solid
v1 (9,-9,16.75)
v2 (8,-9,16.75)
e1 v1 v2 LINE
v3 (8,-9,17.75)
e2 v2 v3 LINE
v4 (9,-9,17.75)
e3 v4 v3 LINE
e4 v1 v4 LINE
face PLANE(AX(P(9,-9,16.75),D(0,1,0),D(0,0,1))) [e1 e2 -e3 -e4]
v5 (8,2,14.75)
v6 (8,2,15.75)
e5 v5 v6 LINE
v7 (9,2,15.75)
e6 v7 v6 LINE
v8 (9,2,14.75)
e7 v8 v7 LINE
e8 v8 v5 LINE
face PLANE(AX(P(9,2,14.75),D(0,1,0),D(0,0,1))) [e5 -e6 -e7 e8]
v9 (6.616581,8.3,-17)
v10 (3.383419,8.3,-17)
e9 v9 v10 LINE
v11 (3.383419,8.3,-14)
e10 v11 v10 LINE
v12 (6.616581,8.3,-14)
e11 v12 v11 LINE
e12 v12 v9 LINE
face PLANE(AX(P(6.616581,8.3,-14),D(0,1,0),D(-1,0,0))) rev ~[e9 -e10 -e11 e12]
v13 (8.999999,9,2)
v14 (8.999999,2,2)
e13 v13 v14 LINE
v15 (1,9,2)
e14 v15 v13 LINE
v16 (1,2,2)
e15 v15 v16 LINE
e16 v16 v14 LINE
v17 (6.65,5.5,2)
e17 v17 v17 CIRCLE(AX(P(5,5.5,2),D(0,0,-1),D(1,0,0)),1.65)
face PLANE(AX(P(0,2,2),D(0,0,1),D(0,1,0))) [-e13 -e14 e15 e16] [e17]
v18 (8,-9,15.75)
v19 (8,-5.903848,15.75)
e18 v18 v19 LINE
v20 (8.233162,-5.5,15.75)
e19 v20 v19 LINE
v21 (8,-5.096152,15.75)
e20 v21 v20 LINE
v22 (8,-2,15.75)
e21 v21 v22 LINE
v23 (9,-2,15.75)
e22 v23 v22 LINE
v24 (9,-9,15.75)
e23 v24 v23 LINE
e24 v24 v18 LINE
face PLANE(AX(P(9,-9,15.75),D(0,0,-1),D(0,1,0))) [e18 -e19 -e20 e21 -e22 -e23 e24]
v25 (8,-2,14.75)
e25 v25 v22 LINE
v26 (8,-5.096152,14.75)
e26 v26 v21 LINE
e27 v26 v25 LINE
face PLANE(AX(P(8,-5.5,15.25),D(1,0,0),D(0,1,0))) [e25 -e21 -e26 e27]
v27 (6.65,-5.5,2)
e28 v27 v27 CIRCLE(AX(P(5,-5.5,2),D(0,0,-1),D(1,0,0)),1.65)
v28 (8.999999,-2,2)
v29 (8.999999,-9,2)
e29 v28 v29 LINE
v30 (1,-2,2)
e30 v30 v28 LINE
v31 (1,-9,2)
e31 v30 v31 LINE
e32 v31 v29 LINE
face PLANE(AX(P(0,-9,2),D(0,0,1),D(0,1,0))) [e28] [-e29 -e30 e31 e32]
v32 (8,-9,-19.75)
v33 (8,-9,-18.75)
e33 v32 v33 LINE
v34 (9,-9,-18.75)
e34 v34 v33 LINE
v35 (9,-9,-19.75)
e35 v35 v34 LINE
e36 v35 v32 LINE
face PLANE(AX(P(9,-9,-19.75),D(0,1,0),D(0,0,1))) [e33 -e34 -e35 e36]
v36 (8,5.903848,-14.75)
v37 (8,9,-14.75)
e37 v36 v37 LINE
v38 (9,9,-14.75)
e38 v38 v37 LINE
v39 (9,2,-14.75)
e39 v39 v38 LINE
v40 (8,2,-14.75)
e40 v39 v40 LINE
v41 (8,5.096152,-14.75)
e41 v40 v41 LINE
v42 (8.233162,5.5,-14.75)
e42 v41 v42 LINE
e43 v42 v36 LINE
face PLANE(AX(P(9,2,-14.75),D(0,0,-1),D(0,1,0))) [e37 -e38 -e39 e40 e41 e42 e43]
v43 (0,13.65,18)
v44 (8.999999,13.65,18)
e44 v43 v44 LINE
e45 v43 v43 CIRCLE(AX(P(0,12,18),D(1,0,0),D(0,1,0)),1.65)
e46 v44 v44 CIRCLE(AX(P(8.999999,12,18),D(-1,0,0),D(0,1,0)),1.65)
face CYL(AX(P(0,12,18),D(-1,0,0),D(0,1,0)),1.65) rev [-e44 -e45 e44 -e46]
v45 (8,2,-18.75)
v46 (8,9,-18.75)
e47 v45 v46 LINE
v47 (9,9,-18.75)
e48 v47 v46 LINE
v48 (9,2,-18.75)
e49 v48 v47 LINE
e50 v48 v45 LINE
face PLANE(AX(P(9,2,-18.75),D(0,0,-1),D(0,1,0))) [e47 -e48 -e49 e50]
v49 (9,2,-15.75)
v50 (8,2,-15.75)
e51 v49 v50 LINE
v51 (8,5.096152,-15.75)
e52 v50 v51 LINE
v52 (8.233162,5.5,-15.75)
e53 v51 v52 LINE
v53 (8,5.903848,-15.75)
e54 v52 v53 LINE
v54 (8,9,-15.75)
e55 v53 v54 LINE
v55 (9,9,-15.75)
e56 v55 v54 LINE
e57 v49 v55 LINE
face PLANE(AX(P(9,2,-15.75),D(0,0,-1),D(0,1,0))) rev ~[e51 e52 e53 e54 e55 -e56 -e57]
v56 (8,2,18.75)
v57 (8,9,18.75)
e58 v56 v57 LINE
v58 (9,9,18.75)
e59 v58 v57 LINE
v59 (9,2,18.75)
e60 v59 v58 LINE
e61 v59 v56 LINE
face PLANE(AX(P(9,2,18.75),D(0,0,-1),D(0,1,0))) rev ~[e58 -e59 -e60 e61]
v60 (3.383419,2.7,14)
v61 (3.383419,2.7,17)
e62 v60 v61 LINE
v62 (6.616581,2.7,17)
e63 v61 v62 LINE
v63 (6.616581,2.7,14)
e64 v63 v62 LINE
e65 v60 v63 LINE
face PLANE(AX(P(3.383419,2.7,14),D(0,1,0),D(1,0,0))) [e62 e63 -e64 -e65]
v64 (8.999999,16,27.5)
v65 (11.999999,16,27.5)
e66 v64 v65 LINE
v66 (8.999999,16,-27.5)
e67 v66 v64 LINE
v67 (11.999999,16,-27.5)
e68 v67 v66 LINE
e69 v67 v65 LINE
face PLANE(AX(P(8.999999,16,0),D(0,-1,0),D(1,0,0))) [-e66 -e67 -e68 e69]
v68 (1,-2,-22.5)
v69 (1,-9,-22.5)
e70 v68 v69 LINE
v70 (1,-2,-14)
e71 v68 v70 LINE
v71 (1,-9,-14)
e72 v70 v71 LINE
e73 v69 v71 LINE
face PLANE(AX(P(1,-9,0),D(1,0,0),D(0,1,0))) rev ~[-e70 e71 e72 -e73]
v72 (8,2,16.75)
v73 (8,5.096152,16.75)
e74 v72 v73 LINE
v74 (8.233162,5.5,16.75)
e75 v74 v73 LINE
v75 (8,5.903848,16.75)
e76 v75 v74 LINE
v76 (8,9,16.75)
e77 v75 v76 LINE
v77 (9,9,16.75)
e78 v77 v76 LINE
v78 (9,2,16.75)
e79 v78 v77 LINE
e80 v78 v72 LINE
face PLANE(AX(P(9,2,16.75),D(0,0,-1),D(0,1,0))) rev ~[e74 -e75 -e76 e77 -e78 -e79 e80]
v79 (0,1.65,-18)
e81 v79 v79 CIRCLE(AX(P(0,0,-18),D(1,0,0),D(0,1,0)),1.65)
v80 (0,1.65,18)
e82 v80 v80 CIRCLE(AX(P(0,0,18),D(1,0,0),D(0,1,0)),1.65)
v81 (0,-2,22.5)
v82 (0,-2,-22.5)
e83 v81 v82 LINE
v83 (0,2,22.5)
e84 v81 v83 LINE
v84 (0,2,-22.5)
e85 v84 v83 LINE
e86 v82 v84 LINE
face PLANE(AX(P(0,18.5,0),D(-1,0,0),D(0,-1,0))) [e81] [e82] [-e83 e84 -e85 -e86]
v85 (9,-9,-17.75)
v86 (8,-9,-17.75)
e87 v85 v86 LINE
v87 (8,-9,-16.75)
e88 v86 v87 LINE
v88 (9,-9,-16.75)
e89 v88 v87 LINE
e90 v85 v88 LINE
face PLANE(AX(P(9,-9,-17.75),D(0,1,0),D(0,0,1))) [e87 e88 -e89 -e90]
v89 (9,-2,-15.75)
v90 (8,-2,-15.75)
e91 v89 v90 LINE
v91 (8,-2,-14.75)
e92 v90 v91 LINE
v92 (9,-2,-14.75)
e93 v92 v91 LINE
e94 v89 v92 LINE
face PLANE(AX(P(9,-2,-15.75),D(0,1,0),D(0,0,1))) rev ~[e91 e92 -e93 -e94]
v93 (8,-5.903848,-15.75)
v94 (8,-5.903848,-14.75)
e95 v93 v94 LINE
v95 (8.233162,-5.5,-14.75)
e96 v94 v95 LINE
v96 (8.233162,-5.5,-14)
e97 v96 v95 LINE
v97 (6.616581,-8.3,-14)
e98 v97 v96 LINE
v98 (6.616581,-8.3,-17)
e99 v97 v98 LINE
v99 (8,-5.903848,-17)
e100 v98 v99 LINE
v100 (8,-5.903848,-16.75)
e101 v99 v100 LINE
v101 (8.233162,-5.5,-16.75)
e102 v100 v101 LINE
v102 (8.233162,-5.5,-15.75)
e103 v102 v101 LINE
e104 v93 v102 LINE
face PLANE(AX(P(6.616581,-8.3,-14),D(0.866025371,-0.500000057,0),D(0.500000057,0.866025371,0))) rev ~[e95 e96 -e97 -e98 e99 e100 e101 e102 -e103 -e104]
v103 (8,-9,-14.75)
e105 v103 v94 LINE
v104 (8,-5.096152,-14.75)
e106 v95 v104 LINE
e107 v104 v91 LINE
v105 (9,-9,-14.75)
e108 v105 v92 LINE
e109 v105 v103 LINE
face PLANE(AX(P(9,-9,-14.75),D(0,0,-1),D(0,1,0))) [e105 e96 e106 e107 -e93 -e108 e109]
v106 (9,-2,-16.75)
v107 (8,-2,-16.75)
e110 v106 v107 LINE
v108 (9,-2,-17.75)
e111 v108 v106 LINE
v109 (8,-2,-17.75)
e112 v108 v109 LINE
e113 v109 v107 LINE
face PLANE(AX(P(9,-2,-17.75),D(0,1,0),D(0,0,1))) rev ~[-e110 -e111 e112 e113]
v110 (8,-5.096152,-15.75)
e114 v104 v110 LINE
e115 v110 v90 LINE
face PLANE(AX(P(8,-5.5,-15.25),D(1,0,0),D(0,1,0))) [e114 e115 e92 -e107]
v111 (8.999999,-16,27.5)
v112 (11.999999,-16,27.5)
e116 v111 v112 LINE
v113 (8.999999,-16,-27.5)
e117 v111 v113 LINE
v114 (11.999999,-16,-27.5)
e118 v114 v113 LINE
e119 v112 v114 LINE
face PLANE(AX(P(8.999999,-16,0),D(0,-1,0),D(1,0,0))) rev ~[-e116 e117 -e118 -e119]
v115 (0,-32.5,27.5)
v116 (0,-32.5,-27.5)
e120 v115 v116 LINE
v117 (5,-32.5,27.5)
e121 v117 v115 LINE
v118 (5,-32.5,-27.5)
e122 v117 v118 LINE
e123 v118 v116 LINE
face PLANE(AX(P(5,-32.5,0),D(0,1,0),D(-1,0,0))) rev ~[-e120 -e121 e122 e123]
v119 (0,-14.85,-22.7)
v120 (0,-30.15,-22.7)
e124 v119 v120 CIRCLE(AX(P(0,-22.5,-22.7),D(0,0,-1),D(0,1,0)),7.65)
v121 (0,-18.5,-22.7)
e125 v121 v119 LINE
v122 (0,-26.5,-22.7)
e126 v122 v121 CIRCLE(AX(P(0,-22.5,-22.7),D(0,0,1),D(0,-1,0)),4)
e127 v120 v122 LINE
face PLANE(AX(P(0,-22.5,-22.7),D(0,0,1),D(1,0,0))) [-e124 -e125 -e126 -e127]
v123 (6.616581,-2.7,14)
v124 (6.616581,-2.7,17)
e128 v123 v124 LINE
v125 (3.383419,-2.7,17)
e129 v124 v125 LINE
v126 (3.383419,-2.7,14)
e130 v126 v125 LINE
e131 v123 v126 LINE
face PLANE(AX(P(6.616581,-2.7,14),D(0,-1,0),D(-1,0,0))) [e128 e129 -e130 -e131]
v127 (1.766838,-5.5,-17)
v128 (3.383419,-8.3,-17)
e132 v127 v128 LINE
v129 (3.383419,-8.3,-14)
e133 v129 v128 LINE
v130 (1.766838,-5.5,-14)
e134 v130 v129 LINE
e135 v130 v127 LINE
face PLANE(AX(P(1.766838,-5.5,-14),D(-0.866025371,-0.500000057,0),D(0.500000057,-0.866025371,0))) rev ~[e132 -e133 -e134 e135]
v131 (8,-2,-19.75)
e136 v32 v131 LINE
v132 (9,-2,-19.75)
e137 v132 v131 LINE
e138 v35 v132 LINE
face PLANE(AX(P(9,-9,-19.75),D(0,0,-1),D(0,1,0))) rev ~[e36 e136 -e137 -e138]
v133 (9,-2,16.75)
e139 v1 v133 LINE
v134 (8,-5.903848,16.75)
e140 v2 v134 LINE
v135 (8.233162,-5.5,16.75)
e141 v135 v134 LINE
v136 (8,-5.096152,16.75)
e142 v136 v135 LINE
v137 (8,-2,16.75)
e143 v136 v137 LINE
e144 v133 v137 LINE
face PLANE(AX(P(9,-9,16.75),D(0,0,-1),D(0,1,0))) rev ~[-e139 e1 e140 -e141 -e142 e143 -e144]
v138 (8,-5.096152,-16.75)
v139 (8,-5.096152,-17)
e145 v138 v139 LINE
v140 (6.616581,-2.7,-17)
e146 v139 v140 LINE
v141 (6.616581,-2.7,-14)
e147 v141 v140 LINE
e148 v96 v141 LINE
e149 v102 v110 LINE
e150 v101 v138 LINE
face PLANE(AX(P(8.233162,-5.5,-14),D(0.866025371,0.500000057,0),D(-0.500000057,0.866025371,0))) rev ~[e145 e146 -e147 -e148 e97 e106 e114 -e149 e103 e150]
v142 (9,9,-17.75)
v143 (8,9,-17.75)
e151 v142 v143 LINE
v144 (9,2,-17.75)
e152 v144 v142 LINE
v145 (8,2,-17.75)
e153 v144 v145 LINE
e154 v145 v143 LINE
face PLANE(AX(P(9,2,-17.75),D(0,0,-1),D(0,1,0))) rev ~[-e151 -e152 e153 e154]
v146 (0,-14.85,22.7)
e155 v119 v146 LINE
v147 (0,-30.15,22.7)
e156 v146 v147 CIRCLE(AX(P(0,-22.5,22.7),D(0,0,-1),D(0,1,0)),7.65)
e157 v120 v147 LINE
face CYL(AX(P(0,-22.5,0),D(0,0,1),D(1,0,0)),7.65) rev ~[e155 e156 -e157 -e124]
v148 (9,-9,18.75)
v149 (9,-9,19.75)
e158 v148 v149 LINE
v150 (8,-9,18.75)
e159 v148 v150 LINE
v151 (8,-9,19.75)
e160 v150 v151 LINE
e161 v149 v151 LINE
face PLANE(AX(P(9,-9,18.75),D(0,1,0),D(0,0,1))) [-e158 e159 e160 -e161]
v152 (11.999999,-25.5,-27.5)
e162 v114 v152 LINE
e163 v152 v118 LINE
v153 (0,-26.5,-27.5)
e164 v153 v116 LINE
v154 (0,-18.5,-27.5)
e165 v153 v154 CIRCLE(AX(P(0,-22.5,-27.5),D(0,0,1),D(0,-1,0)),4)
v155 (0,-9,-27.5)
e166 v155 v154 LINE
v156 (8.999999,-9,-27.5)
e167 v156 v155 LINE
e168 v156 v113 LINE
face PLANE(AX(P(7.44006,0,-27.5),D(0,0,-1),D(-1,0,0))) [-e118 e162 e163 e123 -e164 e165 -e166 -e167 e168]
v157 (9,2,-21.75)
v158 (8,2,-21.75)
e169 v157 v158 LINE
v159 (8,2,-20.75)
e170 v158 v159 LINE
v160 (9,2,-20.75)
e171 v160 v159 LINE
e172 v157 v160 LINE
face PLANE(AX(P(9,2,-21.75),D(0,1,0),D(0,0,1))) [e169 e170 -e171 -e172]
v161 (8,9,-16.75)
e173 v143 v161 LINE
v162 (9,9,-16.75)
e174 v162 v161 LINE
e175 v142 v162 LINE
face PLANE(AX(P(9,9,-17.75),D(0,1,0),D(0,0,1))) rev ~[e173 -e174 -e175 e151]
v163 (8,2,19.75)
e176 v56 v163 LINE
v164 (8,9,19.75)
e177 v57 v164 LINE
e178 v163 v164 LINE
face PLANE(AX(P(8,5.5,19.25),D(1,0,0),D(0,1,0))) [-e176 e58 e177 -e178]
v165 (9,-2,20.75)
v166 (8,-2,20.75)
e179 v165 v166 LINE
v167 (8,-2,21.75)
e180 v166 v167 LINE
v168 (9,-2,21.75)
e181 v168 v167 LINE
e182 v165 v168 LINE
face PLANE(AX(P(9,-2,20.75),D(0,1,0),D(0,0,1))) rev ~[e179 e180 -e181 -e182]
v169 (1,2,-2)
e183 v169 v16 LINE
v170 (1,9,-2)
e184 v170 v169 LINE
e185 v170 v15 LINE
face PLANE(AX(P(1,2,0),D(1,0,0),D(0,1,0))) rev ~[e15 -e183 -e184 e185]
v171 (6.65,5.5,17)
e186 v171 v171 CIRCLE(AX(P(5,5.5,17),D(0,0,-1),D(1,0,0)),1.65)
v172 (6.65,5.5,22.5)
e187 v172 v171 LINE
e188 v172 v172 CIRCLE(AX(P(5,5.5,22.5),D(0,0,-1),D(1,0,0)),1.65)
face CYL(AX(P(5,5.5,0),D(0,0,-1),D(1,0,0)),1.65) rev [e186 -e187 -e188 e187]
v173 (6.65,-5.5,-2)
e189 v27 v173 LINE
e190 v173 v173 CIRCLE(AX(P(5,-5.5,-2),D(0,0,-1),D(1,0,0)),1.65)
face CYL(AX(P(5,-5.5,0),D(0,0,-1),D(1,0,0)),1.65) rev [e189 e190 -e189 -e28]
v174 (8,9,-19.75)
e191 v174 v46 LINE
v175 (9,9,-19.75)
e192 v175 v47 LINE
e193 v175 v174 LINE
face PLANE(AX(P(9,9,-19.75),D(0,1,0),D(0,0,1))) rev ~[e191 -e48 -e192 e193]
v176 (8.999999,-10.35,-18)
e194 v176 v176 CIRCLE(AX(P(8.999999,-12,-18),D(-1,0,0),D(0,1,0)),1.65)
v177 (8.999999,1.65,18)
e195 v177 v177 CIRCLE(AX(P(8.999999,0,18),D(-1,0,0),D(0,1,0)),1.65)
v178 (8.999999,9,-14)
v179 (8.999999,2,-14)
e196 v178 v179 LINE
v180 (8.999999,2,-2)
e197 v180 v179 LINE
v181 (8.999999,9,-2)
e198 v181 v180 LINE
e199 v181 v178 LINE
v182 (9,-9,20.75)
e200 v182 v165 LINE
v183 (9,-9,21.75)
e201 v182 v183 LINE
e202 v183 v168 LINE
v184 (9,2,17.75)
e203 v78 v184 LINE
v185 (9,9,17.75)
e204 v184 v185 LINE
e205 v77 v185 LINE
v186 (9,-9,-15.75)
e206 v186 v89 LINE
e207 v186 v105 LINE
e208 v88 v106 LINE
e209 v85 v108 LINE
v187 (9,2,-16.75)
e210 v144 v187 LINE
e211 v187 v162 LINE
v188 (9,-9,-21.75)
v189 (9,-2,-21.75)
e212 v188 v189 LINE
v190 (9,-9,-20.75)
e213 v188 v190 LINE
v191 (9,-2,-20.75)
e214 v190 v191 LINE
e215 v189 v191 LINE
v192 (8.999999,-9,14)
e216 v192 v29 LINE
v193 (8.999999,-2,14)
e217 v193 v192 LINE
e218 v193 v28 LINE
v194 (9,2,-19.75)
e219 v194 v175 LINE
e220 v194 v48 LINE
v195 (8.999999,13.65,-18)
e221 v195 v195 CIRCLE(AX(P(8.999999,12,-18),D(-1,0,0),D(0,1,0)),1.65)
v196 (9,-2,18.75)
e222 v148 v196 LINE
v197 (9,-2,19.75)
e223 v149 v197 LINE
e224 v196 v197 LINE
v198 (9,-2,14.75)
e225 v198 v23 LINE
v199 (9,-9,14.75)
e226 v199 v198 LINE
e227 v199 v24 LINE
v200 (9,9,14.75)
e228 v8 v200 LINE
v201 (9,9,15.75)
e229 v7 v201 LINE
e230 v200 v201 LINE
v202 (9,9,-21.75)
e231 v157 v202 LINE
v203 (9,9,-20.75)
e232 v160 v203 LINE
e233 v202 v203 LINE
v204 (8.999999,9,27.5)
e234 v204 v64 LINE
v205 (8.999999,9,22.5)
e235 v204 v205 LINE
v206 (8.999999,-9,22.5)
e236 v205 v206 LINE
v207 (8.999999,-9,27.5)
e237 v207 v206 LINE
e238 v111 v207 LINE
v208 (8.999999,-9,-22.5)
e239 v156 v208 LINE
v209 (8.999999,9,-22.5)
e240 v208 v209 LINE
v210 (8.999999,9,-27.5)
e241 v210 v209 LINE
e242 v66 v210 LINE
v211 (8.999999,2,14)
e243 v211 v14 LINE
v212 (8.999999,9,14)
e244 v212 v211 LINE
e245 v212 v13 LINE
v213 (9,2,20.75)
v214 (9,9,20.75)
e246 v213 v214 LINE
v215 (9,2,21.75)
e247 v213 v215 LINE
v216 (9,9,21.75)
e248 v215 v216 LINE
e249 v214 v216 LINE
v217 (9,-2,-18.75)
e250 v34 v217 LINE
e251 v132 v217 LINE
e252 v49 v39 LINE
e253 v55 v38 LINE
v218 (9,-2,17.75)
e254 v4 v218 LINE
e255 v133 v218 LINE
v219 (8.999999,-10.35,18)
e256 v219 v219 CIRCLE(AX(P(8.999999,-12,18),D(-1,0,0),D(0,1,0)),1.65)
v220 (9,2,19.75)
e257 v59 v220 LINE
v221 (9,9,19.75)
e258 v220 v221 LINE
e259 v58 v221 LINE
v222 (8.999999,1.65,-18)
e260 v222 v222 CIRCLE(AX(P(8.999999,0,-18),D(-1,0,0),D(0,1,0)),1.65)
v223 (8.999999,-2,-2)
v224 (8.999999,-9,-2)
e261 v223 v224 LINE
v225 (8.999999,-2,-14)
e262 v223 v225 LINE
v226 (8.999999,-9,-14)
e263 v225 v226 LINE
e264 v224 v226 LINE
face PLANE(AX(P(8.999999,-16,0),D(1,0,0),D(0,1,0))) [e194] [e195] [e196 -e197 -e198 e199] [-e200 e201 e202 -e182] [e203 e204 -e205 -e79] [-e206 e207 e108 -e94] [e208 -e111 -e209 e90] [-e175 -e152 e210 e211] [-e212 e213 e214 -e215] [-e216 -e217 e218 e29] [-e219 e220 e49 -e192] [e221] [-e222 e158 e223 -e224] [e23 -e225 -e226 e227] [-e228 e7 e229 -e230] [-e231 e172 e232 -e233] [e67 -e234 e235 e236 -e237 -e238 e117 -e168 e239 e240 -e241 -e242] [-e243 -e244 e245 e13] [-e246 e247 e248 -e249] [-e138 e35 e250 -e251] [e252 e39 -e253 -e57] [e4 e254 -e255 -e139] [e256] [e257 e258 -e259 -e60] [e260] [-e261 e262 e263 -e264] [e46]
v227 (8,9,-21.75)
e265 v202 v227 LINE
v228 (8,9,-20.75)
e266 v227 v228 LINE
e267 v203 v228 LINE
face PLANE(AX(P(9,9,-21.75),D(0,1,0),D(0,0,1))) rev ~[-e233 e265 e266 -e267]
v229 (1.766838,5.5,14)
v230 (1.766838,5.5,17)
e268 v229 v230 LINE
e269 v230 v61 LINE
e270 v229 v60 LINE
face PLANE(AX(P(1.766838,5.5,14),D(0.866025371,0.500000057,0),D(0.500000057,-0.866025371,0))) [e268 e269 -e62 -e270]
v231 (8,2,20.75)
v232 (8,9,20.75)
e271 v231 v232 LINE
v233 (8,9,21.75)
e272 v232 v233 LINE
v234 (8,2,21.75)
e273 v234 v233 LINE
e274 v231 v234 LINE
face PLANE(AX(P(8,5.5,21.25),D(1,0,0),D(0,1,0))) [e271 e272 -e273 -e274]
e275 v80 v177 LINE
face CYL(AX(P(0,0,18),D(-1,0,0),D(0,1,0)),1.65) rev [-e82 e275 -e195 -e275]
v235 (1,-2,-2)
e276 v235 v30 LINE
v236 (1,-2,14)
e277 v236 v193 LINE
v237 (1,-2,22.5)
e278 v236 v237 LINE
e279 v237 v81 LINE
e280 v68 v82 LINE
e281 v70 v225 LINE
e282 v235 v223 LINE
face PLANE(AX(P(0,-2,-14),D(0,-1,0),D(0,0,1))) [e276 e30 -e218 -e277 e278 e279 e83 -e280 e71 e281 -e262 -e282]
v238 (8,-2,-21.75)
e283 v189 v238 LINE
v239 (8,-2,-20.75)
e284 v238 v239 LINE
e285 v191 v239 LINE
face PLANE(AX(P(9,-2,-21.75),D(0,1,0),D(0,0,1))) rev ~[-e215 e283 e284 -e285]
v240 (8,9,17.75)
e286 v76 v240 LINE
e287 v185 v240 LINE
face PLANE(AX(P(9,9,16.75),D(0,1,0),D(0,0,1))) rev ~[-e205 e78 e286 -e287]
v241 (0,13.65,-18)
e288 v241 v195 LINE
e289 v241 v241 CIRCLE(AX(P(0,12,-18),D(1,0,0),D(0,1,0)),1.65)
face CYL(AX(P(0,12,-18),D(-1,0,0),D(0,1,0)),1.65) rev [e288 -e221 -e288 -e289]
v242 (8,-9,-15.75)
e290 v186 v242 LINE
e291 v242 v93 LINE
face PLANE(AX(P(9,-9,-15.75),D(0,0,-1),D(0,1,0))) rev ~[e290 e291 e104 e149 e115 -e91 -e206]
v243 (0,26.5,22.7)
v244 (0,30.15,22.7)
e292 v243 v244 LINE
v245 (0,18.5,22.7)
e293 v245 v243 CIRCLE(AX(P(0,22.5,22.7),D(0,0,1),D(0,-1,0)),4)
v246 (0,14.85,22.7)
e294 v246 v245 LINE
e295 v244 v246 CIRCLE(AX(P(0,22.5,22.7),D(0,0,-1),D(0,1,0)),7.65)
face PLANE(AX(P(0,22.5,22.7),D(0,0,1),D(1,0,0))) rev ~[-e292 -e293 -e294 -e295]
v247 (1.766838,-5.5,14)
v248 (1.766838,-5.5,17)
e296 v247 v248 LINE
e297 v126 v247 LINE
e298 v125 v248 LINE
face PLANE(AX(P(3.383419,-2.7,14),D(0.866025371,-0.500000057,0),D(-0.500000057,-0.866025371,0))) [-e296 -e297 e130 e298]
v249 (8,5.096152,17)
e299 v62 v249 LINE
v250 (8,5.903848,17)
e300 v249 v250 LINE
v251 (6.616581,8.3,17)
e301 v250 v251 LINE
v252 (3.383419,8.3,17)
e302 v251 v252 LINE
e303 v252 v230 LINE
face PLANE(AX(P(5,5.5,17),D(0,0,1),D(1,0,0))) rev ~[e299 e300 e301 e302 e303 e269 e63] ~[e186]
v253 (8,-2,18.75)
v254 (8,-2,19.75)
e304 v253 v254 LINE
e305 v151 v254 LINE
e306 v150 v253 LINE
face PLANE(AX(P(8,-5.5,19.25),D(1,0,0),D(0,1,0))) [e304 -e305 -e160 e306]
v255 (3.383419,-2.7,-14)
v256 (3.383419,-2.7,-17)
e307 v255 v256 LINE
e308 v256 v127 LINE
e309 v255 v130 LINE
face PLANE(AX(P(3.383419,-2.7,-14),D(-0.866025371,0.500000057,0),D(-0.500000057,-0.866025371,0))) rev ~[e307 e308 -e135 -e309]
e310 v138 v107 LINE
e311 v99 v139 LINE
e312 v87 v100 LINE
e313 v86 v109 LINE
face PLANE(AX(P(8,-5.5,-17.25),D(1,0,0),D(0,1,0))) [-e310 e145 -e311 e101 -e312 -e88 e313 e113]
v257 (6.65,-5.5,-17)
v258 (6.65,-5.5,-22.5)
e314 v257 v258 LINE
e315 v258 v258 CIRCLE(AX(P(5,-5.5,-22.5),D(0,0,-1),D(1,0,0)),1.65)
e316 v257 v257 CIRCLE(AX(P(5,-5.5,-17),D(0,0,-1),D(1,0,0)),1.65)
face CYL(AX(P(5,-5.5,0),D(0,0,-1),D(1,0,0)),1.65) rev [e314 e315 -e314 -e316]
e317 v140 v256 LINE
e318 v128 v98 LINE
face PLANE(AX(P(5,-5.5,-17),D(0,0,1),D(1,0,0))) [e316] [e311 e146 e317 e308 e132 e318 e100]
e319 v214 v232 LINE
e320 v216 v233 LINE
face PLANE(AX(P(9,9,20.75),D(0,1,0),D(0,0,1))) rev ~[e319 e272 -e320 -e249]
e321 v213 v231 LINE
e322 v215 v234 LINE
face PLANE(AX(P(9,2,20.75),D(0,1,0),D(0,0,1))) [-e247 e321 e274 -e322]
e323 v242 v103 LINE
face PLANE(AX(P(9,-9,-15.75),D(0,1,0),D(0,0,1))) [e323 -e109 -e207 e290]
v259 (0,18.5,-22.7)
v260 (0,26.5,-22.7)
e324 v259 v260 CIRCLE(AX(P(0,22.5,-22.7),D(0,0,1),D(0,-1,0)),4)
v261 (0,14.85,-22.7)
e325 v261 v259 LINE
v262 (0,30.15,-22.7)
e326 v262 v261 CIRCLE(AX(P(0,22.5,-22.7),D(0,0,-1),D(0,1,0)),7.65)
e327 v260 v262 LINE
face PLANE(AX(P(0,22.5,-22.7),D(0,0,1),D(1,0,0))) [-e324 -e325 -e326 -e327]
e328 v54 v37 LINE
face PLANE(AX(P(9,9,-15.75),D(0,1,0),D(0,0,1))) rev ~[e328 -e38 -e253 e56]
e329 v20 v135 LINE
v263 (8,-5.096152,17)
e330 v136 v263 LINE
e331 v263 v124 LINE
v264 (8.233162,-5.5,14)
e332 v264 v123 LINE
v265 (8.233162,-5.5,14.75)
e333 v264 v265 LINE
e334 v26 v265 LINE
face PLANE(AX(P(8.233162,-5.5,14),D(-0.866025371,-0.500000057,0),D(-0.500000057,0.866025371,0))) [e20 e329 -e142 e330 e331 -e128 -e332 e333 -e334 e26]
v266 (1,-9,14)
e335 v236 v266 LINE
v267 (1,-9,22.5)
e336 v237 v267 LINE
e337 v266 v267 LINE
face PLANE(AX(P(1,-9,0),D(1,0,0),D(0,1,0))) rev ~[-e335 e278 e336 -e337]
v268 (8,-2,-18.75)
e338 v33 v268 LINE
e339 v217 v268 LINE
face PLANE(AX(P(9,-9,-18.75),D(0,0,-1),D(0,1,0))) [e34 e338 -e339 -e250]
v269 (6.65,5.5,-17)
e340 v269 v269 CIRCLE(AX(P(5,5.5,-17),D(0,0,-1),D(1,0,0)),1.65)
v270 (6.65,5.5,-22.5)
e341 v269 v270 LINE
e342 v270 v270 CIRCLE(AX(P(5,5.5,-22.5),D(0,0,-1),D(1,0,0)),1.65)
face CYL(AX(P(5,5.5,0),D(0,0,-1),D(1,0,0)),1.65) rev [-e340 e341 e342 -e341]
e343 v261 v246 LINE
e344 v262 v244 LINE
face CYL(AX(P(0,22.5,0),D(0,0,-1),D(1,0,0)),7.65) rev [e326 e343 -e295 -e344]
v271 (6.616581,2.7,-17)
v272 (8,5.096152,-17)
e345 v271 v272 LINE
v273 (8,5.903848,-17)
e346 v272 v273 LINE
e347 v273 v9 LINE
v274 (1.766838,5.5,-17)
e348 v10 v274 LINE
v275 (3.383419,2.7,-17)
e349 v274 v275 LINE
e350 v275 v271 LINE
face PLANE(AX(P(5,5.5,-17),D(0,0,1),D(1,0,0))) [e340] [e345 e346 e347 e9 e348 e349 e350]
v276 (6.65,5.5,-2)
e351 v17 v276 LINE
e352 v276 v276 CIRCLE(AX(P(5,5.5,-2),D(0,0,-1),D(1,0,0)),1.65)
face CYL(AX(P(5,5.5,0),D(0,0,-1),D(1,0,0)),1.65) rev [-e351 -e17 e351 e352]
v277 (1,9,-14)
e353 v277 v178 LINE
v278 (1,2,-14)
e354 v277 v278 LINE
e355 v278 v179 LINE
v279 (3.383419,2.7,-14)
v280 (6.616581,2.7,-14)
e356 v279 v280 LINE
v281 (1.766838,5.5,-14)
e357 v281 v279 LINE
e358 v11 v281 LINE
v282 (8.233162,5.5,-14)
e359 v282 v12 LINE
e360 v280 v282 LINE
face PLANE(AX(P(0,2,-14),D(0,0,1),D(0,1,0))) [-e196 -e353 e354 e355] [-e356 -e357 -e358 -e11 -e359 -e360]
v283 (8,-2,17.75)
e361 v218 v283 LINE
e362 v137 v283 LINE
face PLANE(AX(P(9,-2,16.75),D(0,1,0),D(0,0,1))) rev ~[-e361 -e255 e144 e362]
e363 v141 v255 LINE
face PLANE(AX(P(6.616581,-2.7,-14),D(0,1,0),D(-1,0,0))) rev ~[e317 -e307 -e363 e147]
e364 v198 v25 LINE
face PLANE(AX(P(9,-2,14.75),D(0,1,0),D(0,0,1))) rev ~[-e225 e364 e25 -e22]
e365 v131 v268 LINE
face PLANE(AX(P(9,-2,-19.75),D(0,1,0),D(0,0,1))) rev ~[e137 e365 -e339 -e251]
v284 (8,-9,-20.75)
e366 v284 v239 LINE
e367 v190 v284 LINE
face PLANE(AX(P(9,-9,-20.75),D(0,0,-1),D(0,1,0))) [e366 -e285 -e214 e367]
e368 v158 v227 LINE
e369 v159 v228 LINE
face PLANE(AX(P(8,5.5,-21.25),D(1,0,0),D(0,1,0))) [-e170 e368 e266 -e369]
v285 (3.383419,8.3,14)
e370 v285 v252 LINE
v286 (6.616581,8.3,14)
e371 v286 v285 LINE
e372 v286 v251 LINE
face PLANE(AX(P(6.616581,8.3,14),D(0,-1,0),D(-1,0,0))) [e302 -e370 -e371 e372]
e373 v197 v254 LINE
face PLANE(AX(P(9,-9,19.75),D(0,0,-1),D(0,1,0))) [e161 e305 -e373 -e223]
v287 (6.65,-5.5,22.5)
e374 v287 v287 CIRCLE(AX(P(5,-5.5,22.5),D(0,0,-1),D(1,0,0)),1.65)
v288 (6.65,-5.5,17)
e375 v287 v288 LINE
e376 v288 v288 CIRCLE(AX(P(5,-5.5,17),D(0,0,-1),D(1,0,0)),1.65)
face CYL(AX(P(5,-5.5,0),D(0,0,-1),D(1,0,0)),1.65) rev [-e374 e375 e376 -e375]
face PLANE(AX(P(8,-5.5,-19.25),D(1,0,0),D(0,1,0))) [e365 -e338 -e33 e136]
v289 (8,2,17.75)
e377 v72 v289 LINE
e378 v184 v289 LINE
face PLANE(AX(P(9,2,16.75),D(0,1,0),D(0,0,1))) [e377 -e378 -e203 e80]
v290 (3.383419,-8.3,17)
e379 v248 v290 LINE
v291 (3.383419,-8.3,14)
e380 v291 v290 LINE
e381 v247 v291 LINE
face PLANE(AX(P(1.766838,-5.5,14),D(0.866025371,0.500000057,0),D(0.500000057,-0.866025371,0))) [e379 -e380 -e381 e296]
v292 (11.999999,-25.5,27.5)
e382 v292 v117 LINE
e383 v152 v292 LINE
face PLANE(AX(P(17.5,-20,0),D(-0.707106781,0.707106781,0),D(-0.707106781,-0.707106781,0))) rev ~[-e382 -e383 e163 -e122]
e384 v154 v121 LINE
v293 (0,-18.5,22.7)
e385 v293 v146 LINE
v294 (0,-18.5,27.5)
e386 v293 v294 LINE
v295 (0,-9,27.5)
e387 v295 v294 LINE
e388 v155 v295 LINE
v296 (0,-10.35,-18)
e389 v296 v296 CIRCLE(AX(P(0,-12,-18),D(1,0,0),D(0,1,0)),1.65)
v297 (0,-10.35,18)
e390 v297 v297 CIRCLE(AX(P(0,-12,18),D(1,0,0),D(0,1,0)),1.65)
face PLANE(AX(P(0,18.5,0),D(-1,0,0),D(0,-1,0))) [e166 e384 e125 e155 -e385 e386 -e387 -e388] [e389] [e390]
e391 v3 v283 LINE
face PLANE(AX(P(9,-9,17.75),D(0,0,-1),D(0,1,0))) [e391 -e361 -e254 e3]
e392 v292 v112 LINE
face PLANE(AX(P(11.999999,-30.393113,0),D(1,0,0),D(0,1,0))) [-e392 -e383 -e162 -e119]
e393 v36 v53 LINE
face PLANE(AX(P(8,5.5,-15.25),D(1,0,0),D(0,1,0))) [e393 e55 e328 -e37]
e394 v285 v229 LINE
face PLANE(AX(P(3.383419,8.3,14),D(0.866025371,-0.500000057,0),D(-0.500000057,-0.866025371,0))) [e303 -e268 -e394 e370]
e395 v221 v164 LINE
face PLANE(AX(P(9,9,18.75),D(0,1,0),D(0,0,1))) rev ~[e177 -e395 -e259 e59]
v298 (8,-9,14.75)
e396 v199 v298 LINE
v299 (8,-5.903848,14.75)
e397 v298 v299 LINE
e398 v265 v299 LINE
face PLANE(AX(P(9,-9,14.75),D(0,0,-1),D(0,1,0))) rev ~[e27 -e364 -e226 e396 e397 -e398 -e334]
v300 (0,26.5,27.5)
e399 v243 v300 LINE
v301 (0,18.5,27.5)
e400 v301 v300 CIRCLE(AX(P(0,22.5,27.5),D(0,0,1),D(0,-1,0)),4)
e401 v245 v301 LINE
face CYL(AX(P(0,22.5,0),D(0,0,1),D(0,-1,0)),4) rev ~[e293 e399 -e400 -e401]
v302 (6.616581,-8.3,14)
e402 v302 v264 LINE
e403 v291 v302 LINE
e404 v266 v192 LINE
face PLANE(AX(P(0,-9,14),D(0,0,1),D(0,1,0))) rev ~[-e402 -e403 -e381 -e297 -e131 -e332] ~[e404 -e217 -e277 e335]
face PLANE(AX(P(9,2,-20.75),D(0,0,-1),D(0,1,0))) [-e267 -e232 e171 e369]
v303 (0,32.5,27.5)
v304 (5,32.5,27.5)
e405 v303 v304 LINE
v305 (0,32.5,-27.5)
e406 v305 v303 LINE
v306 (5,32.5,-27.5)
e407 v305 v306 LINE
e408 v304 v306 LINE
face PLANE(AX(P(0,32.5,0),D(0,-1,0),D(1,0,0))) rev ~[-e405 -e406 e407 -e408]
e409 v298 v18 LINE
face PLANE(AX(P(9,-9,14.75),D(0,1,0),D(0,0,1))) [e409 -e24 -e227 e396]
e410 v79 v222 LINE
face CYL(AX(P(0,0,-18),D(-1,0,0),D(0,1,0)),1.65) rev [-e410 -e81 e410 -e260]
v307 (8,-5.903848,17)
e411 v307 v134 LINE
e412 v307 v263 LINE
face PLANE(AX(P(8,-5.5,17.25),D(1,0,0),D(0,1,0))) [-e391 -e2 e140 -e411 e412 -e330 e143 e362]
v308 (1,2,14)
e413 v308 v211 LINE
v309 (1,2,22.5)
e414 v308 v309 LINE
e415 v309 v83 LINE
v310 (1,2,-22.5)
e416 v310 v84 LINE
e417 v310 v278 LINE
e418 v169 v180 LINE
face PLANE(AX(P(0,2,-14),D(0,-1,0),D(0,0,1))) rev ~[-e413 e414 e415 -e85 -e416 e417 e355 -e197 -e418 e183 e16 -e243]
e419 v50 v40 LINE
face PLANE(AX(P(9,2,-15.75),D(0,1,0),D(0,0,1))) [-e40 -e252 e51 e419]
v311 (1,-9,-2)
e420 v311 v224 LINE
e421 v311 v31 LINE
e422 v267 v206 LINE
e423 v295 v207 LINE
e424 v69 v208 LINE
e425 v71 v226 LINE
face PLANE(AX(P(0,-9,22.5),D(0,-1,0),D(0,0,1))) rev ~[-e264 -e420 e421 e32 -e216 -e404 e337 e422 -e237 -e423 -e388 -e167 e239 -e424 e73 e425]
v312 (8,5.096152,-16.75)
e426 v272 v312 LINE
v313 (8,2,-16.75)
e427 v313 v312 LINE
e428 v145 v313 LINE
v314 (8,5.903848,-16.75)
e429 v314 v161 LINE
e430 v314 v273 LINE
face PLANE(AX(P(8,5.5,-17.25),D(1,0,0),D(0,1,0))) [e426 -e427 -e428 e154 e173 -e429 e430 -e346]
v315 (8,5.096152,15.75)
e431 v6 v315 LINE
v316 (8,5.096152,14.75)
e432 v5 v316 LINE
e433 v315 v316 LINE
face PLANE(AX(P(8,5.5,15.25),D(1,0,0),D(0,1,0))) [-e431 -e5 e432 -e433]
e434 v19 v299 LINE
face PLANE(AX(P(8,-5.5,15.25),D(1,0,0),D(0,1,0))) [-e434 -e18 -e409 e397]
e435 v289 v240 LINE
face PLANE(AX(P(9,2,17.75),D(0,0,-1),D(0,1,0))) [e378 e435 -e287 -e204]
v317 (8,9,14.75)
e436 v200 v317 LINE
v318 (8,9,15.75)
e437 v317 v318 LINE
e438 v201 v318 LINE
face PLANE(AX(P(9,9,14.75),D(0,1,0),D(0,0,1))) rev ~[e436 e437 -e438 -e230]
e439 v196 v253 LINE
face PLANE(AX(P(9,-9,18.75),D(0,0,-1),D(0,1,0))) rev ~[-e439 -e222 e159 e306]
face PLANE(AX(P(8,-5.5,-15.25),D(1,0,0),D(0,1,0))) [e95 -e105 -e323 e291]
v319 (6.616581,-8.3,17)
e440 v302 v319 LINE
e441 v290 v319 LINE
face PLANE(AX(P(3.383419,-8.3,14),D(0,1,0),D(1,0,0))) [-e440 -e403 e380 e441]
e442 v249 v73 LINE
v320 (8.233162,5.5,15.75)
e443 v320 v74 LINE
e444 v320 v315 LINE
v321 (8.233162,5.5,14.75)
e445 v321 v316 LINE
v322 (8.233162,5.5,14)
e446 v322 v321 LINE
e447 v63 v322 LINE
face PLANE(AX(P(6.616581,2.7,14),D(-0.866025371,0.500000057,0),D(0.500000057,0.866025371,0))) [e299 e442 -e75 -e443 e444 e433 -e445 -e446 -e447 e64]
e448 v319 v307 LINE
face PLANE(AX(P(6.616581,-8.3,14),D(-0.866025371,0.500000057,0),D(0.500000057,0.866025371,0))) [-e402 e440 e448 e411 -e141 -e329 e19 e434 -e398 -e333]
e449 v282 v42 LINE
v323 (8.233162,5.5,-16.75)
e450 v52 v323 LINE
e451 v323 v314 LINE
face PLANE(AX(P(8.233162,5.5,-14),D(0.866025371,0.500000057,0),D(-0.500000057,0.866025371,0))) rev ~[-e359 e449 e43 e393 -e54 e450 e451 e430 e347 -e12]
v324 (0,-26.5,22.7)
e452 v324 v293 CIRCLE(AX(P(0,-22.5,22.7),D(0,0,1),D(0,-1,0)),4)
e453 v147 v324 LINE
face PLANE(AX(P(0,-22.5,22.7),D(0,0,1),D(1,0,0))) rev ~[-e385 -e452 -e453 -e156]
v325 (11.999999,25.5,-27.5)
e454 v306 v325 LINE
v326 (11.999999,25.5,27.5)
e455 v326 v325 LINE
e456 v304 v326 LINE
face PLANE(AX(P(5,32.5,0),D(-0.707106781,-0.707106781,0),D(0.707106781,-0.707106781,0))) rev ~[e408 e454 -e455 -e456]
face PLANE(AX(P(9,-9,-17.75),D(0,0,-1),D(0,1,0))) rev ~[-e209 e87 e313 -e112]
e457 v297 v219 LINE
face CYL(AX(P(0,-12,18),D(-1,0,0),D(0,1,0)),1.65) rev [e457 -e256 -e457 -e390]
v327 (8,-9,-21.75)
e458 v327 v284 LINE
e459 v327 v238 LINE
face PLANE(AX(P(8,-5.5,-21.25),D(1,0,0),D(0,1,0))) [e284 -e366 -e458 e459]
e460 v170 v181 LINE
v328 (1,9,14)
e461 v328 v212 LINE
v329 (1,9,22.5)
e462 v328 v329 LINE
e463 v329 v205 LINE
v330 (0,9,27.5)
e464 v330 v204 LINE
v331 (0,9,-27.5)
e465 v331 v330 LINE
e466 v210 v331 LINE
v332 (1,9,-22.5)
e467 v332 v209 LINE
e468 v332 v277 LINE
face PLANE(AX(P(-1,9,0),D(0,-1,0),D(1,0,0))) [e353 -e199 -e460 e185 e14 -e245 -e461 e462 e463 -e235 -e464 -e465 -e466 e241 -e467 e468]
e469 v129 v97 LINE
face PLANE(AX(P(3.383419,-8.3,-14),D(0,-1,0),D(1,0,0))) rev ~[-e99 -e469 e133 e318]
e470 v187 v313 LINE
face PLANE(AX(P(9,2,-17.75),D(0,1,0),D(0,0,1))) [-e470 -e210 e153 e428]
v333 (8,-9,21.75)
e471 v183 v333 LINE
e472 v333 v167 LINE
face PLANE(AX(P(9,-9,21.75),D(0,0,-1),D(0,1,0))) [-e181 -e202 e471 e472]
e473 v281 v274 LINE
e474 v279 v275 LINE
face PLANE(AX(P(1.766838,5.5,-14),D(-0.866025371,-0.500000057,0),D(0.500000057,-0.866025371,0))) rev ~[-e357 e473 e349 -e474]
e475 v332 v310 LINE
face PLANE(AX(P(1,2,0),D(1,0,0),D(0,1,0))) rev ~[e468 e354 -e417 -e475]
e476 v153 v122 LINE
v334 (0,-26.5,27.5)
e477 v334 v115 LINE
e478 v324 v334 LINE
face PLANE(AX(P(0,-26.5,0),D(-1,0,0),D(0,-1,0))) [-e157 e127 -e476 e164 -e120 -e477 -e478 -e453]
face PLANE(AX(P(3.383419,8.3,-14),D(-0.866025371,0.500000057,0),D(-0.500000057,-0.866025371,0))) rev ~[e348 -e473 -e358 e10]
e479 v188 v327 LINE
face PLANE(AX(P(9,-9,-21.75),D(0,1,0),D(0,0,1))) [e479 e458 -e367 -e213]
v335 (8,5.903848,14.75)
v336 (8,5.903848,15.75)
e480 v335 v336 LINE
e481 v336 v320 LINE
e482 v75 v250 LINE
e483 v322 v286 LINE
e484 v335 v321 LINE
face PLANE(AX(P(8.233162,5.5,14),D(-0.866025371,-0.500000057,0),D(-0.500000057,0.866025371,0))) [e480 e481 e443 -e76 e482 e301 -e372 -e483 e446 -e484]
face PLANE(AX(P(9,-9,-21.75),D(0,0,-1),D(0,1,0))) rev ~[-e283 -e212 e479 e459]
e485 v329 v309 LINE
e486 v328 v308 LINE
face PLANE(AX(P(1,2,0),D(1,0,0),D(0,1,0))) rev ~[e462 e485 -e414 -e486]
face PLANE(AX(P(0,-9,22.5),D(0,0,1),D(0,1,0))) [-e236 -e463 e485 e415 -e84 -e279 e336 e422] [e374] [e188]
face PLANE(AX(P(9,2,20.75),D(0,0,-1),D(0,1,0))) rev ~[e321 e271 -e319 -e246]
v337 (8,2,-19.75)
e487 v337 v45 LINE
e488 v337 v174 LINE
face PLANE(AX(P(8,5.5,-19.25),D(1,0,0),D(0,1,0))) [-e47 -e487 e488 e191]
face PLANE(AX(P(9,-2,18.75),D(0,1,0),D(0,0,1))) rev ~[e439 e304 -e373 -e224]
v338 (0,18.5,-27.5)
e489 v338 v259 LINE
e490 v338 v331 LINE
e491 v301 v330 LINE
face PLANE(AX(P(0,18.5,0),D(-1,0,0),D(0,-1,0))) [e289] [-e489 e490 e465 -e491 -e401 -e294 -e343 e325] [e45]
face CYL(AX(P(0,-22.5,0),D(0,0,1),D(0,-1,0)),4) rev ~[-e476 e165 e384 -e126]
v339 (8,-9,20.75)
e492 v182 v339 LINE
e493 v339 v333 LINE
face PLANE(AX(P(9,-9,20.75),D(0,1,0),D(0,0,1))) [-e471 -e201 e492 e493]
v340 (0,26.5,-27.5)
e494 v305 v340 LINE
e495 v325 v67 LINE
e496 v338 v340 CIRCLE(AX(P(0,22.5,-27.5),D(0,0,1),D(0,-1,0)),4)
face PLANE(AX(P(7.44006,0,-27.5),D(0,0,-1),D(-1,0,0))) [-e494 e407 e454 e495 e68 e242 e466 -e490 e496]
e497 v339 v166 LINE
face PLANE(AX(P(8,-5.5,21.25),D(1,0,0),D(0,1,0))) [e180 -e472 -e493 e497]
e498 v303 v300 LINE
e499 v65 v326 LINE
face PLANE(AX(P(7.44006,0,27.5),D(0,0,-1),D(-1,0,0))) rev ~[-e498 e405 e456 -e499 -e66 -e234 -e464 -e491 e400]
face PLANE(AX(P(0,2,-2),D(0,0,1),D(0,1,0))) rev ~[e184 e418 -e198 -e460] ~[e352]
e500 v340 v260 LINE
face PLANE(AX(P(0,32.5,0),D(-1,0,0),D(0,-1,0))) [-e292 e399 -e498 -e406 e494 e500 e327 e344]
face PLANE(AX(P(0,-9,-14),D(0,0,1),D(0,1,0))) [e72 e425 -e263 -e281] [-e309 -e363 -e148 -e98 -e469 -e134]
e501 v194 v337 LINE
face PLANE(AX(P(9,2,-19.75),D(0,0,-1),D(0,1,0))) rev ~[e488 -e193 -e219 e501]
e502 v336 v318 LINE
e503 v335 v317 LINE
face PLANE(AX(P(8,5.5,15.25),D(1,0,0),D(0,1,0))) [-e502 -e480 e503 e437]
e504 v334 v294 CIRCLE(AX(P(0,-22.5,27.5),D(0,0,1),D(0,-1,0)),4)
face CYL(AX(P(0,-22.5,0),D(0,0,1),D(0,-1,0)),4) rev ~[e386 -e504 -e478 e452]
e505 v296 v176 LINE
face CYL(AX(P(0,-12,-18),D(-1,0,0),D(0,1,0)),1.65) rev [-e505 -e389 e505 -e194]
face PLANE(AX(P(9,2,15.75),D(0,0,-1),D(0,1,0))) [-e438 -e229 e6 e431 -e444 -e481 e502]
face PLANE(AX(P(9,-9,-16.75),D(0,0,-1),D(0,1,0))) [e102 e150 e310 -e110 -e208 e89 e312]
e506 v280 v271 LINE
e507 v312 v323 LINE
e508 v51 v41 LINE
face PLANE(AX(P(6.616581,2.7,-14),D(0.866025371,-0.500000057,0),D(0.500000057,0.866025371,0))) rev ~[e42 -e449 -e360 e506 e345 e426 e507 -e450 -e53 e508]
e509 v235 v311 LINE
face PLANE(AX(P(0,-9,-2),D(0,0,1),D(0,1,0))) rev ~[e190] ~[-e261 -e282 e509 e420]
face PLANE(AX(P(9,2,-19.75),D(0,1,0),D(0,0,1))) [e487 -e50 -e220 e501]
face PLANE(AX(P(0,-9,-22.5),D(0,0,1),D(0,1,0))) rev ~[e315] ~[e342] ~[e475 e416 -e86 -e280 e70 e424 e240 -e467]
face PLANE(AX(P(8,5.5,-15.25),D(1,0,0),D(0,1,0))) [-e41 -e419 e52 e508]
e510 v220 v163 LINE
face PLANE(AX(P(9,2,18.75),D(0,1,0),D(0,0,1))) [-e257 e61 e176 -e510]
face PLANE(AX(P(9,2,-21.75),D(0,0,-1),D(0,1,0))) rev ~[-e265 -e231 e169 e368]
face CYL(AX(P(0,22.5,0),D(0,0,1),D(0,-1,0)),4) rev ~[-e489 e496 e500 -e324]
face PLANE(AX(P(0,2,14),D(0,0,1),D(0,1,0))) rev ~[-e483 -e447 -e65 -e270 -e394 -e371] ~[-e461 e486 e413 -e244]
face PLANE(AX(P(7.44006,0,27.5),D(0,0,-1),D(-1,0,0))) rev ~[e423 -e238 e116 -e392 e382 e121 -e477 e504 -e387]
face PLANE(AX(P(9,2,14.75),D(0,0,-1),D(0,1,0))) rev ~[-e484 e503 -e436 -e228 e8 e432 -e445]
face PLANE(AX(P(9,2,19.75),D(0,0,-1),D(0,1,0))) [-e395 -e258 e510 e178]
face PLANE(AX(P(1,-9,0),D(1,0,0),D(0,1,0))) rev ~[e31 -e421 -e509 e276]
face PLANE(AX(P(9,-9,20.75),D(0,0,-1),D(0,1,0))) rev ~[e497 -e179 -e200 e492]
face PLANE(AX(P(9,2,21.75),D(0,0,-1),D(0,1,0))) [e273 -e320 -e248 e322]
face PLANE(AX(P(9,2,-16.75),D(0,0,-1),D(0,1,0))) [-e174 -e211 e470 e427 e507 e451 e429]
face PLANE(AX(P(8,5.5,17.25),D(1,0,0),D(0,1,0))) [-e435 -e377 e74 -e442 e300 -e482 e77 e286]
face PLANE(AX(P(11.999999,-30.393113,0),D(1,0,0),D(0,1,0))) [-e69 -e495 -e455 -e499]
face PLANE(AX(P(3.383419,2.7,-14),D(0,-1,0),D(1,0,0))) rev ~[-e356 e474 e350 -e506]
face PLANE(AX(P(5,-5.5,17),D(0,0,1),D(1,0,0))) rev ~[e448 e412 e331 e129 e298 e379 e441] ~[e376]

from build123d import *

# Parameters (mm, degrees)
SKETCH_R             = 1.65
PAD_DEPTH            = 27.5
SKETCH001_R          = 7.65
POCKET_DEPTH         = 22.7
SKETCH002_W          = 2
SKETCH002_H          = 7
POCKET001_DEPTH      = 27.501
POCKET001_DEPTH_BACK = -27.501
SKETCH003_W          = 18
SKETCH003_H          = 5
POCKET002_DEPTH      = 0.001
POCKET002_DEPTH_BACK = -17.501
SKETCH004_W          = 23.804039
SKETCH004_H          = 32
POCKET003_DEPTH      = 27.501
POCKET003_DEPTH_BACK = -27.501
SKETCH005_W          = 7
SKETCH005_H          = 12
POCKET004_DEPTH      = 17.501
POCKET005_DEPTH      = 3
SKETCH007_W          = 24.471905
SKETCH007_H          = 61.781853
POCKET006_DEPTH      = 27.501
POCKET006_DEPTH_BACK = -27.501
SKETCH008_R          = 1.65
POCKET007_DEPTH      = 12.001
POCKET008_DEPTH      = 3
SKETCH010_W          = 7
SKETCH010_H          = 1
POCKET009_DEPTH      = 1


with BuildPart() as part:
    # Sketch → Pad (new body, symmetric)
    with BuildSketch(Plane.XY):
        with BuildLine():
            Line((0, 32.5), (5, 32.5))
            Line((5, 32.5), (17.5, 20))
            Line((17.5, 20), (17.5, -20))
            Line((17.5, -20), (5, -32.5))
            Line((5, -32.5), (0, -32.5))
            Line((0, -26.5), (0, -32.5))
            ThreePointArc((0, -26.5), (4, -22.5), (0, -18.5))
            Line((0, 18.5), (0, -18.5))
            ThreePointArc((0, 18.5), (4, 22.5), (0, 26.5))
            Line((0, 32.5), (0, 26.5))
        make_face()
        with Locations((5, 5.5)):
            Circle(SKETCH_R, mode=Mode.SUBTRACT)
        with Locations((5, -5.5)):
            Circle(SKETCH_R, mode=Mode.SUBTRACT)
    extrude(amount=PAD_DEPTH, both=True)

    # Sketch001 → Pocket (cut, symmetric)
    with BuildSketch(Plane.XY):
        with Locations((0, 22.5)):
            Circle(SKETCH001_R)
        with Locations((0, -22.5)):
            Circle(SKETCH001_R)
    extrude(amount=POCKET_DEPTH, both=True, mode=Mode.SUBTRACT)

    # Sketch002 → Pocket001 (cut, two sides)
    with BuildSketch(Plane.XY) as pocket001_sk:
        with Locations((0, 5.5)):
            Rectangle(SKETCH002_W, SKETCH002_H)
        with Locations((0, -5.5)):
            Rectangle(SKETCH002_W, SKETCH002_H)
    extrude(amount=-POCKET001_DEPTH, mode=Mode.SUBTRACT)
    extrude(pocket001_sk.sketch, amount=-POCKET001_DEPTH_BACK, mode=Mode.SUBTRACT)

    # Sketch003 → Pocket002 (cut, two sides)
    with BuildSketch(Plane.YZ) as pocket002_sk:
        with Locations((0, 25)):
            Rectangle(SKETCH003_W, SKETCH003_H)
        with Locations((0, -25)):
            Rectangle(SKETCH003_W, SKETCH003_H)
    extrude(amount=-POCKET002_DEPTH, mode=Mode.SUBTRACT)
    extrude(pocket002_sk.sketch, amount=-POCKET002_DEPTH_BACK, mode=Mode.SUBTRACT)

    # Sketch004 → Pocket003 (cut, two sides)
    with BuildSketch(Plane.XY) as pocket003_sk:
        with Locations((20.902019, 0)):
            Rectangle(SKETCH004_W, SKETCH004_H)
    extrude(amount=-POCKET003_DEPTH, mode=Mode.SUBTRACT)
    extrude(pocket003_sk.sketch, amount=-POCKET003_DEPTH_BACK, mode=Mode.SUBTRACT)

    # Sketch005 → Pocket004 (cut, through all)
    with BuildSketch(Plane.YZ):
        with Locations((-5.5, 8)):
            Rectangle(SKETCH005_W, SKETCH005_H)
        with Locations((-5.5, -8)):
            Rectangle(SKETCH005_W, SKETCH005_H)
        with Locations((5.5, 8)):
            Rectangle(SKETCH005_W, SKETCH005_H)
        with Locations((5.5, -8)):
            Rectangle(SKETCH005_W, SKETCH005_H)
    extrude(amount=POCKET004_DEPTH, mode=Mode.SUBTRACT)

    # Sketch006 (on DatumPlane) → Pocket005 (cut)
    with BuildSketch(Plane.XY.offset(14)):
        Polygon((8.233162, 5.5), (6.616581, 8.3), (3.383419, 8.3), (1.766838, 5.5), (3.383419, 2.7), (6.616581, 2.7), align=None)
        Polygon((8.233162, -5.5), (6.616581, -2.7), (3.383419, -2.7), (1.766838, -5.5), (3.383419, -8.3), (6.616581, -8.3), align=None)
    extrude(amount=POCKET005_DEPTH, mode=Mode.SUBTRACT)

    # Sketch007 → Pocket006 (cut, two sides)
    with BuildSketch(Plane.XY) as pocket006_sk:
        with Locations((24.235952, 0.497813)):
            Rectangle(SKETCH007_W, SKETCH007_H)
    extrude(amount=-POCKET006_DEPTH, mode=Mode.SUBTRACT)
    extrude(pocket006_sk.sketch, amount=-POCKET006_DEPTH_BACK, mode=Mode.SUBTRACT)

    # Sketch008 → Pocket007 (cut, through all)
    with BuildSketch(Plane.YZ):
        with Locations((12, 18)):
            Circle(SKETCH008_R)
        with Locations((-12, 18)):
            Circle(SKETCH008_R)
        with Locations((0, 18)):
            Circle(SKETCH008_R)
        with Locations((0, -18)):
            Circle(SKETCH008_R)
        with Locations((-12, -18)):
            Circle(SKETCH008_R)
        with Locations((12, -18)):
            Circle(SKETCH008_R)
    extrude(amount=POCKET007_DEPTH, mode=Mode.SUBTRACT)

    # Sketch009 (on DatumPlane) → Pocket008 (cut)
    with BuildSketch(Plane.XY.offset(-14)):
        Polygon((3.383419, 2.7), (6.616581, 2.7), (8.233162, 5.5), (6.616581, 8.3), (3.383419, 8.3), (1.766838, 5.5), align=None)
        Polygon((8.233162, -5.5), (6.616581, -2.7), (3.383419, -2.7), (1.766838, -5.5), (3.383419, -8.3), (6.616581, -8.3), align=None)
    extrude(amount=-POCKET008_DEPTH, mode=Mode.SUBTRACT)

    # Sketch010 (on DatumPlane) → Pocket009 (cut)
    with BuildSketch(Plane.YZ.offset(9)):
        with Locations((-5.5, 15.25)):
            Rectangle(SKETCH010_W, SKETCH010_H)
        with Locations((-5.5, 17.25)):
            Rectangle(SKETCH010_W, SKETCH010_H)
        with Locations((-5.5, 19.25)):
            Rectangle(SKETCH010_W, SKETCH010_H)
        with Locations((-5.5, 21.25)):
            Rectangle(SKETCH010_W, SKETCH010_H)
        with Locations((5.5, 15.25)):
            Rectangle(SKETCH010_W, SKETCH010_H)
        with Locations((5.5, 17.25)):
            Rectangle(SKETCH010_W, SKETCH010_H)
        with Locations((5.5, 19.25)):
            Rectangle(SKETCH010_W, SKETCH010_H)
        with Locations((5.5, 21.25)):
            Rectangle(SKETCH010_W, SKETCH010_H)
        with Locations((-5.5, -21.25)):
            Rectangle(SKETCH010_W, SKETCH010_H)
        with Locations((-5.5, -19.25)):
            Rectangle(SKETCH010_W, SKETCH010_H)
        with Locations((-5.5, -17.25)):
            Rectangle(SKETCH010_W, SKETCH010_H)
        with Locations((-5.5, -15.25)):
            Rectangle(SKETCH010_W, SKETCH010_H)
        with Locations((5.5, -21.25)):
            Rectangle(SKETCH010_W, SKETCH010_H)
        with Locations((5.5, -19.25)):
            Rectangle(SKETCH010_W, SKETCH010_H)
        with Locations((5.5, -17.25)):
            Rectangle(SKETCH010_W, SKETCH010_H)
        with Locations((5.5, -15.25)):
            Rectangle(SKETCH010_W, SKETCH010_H)
    extrude(amount=-POCKET009_DEPTH, mode=Mode.SUBTRACT)


solid = part.part
